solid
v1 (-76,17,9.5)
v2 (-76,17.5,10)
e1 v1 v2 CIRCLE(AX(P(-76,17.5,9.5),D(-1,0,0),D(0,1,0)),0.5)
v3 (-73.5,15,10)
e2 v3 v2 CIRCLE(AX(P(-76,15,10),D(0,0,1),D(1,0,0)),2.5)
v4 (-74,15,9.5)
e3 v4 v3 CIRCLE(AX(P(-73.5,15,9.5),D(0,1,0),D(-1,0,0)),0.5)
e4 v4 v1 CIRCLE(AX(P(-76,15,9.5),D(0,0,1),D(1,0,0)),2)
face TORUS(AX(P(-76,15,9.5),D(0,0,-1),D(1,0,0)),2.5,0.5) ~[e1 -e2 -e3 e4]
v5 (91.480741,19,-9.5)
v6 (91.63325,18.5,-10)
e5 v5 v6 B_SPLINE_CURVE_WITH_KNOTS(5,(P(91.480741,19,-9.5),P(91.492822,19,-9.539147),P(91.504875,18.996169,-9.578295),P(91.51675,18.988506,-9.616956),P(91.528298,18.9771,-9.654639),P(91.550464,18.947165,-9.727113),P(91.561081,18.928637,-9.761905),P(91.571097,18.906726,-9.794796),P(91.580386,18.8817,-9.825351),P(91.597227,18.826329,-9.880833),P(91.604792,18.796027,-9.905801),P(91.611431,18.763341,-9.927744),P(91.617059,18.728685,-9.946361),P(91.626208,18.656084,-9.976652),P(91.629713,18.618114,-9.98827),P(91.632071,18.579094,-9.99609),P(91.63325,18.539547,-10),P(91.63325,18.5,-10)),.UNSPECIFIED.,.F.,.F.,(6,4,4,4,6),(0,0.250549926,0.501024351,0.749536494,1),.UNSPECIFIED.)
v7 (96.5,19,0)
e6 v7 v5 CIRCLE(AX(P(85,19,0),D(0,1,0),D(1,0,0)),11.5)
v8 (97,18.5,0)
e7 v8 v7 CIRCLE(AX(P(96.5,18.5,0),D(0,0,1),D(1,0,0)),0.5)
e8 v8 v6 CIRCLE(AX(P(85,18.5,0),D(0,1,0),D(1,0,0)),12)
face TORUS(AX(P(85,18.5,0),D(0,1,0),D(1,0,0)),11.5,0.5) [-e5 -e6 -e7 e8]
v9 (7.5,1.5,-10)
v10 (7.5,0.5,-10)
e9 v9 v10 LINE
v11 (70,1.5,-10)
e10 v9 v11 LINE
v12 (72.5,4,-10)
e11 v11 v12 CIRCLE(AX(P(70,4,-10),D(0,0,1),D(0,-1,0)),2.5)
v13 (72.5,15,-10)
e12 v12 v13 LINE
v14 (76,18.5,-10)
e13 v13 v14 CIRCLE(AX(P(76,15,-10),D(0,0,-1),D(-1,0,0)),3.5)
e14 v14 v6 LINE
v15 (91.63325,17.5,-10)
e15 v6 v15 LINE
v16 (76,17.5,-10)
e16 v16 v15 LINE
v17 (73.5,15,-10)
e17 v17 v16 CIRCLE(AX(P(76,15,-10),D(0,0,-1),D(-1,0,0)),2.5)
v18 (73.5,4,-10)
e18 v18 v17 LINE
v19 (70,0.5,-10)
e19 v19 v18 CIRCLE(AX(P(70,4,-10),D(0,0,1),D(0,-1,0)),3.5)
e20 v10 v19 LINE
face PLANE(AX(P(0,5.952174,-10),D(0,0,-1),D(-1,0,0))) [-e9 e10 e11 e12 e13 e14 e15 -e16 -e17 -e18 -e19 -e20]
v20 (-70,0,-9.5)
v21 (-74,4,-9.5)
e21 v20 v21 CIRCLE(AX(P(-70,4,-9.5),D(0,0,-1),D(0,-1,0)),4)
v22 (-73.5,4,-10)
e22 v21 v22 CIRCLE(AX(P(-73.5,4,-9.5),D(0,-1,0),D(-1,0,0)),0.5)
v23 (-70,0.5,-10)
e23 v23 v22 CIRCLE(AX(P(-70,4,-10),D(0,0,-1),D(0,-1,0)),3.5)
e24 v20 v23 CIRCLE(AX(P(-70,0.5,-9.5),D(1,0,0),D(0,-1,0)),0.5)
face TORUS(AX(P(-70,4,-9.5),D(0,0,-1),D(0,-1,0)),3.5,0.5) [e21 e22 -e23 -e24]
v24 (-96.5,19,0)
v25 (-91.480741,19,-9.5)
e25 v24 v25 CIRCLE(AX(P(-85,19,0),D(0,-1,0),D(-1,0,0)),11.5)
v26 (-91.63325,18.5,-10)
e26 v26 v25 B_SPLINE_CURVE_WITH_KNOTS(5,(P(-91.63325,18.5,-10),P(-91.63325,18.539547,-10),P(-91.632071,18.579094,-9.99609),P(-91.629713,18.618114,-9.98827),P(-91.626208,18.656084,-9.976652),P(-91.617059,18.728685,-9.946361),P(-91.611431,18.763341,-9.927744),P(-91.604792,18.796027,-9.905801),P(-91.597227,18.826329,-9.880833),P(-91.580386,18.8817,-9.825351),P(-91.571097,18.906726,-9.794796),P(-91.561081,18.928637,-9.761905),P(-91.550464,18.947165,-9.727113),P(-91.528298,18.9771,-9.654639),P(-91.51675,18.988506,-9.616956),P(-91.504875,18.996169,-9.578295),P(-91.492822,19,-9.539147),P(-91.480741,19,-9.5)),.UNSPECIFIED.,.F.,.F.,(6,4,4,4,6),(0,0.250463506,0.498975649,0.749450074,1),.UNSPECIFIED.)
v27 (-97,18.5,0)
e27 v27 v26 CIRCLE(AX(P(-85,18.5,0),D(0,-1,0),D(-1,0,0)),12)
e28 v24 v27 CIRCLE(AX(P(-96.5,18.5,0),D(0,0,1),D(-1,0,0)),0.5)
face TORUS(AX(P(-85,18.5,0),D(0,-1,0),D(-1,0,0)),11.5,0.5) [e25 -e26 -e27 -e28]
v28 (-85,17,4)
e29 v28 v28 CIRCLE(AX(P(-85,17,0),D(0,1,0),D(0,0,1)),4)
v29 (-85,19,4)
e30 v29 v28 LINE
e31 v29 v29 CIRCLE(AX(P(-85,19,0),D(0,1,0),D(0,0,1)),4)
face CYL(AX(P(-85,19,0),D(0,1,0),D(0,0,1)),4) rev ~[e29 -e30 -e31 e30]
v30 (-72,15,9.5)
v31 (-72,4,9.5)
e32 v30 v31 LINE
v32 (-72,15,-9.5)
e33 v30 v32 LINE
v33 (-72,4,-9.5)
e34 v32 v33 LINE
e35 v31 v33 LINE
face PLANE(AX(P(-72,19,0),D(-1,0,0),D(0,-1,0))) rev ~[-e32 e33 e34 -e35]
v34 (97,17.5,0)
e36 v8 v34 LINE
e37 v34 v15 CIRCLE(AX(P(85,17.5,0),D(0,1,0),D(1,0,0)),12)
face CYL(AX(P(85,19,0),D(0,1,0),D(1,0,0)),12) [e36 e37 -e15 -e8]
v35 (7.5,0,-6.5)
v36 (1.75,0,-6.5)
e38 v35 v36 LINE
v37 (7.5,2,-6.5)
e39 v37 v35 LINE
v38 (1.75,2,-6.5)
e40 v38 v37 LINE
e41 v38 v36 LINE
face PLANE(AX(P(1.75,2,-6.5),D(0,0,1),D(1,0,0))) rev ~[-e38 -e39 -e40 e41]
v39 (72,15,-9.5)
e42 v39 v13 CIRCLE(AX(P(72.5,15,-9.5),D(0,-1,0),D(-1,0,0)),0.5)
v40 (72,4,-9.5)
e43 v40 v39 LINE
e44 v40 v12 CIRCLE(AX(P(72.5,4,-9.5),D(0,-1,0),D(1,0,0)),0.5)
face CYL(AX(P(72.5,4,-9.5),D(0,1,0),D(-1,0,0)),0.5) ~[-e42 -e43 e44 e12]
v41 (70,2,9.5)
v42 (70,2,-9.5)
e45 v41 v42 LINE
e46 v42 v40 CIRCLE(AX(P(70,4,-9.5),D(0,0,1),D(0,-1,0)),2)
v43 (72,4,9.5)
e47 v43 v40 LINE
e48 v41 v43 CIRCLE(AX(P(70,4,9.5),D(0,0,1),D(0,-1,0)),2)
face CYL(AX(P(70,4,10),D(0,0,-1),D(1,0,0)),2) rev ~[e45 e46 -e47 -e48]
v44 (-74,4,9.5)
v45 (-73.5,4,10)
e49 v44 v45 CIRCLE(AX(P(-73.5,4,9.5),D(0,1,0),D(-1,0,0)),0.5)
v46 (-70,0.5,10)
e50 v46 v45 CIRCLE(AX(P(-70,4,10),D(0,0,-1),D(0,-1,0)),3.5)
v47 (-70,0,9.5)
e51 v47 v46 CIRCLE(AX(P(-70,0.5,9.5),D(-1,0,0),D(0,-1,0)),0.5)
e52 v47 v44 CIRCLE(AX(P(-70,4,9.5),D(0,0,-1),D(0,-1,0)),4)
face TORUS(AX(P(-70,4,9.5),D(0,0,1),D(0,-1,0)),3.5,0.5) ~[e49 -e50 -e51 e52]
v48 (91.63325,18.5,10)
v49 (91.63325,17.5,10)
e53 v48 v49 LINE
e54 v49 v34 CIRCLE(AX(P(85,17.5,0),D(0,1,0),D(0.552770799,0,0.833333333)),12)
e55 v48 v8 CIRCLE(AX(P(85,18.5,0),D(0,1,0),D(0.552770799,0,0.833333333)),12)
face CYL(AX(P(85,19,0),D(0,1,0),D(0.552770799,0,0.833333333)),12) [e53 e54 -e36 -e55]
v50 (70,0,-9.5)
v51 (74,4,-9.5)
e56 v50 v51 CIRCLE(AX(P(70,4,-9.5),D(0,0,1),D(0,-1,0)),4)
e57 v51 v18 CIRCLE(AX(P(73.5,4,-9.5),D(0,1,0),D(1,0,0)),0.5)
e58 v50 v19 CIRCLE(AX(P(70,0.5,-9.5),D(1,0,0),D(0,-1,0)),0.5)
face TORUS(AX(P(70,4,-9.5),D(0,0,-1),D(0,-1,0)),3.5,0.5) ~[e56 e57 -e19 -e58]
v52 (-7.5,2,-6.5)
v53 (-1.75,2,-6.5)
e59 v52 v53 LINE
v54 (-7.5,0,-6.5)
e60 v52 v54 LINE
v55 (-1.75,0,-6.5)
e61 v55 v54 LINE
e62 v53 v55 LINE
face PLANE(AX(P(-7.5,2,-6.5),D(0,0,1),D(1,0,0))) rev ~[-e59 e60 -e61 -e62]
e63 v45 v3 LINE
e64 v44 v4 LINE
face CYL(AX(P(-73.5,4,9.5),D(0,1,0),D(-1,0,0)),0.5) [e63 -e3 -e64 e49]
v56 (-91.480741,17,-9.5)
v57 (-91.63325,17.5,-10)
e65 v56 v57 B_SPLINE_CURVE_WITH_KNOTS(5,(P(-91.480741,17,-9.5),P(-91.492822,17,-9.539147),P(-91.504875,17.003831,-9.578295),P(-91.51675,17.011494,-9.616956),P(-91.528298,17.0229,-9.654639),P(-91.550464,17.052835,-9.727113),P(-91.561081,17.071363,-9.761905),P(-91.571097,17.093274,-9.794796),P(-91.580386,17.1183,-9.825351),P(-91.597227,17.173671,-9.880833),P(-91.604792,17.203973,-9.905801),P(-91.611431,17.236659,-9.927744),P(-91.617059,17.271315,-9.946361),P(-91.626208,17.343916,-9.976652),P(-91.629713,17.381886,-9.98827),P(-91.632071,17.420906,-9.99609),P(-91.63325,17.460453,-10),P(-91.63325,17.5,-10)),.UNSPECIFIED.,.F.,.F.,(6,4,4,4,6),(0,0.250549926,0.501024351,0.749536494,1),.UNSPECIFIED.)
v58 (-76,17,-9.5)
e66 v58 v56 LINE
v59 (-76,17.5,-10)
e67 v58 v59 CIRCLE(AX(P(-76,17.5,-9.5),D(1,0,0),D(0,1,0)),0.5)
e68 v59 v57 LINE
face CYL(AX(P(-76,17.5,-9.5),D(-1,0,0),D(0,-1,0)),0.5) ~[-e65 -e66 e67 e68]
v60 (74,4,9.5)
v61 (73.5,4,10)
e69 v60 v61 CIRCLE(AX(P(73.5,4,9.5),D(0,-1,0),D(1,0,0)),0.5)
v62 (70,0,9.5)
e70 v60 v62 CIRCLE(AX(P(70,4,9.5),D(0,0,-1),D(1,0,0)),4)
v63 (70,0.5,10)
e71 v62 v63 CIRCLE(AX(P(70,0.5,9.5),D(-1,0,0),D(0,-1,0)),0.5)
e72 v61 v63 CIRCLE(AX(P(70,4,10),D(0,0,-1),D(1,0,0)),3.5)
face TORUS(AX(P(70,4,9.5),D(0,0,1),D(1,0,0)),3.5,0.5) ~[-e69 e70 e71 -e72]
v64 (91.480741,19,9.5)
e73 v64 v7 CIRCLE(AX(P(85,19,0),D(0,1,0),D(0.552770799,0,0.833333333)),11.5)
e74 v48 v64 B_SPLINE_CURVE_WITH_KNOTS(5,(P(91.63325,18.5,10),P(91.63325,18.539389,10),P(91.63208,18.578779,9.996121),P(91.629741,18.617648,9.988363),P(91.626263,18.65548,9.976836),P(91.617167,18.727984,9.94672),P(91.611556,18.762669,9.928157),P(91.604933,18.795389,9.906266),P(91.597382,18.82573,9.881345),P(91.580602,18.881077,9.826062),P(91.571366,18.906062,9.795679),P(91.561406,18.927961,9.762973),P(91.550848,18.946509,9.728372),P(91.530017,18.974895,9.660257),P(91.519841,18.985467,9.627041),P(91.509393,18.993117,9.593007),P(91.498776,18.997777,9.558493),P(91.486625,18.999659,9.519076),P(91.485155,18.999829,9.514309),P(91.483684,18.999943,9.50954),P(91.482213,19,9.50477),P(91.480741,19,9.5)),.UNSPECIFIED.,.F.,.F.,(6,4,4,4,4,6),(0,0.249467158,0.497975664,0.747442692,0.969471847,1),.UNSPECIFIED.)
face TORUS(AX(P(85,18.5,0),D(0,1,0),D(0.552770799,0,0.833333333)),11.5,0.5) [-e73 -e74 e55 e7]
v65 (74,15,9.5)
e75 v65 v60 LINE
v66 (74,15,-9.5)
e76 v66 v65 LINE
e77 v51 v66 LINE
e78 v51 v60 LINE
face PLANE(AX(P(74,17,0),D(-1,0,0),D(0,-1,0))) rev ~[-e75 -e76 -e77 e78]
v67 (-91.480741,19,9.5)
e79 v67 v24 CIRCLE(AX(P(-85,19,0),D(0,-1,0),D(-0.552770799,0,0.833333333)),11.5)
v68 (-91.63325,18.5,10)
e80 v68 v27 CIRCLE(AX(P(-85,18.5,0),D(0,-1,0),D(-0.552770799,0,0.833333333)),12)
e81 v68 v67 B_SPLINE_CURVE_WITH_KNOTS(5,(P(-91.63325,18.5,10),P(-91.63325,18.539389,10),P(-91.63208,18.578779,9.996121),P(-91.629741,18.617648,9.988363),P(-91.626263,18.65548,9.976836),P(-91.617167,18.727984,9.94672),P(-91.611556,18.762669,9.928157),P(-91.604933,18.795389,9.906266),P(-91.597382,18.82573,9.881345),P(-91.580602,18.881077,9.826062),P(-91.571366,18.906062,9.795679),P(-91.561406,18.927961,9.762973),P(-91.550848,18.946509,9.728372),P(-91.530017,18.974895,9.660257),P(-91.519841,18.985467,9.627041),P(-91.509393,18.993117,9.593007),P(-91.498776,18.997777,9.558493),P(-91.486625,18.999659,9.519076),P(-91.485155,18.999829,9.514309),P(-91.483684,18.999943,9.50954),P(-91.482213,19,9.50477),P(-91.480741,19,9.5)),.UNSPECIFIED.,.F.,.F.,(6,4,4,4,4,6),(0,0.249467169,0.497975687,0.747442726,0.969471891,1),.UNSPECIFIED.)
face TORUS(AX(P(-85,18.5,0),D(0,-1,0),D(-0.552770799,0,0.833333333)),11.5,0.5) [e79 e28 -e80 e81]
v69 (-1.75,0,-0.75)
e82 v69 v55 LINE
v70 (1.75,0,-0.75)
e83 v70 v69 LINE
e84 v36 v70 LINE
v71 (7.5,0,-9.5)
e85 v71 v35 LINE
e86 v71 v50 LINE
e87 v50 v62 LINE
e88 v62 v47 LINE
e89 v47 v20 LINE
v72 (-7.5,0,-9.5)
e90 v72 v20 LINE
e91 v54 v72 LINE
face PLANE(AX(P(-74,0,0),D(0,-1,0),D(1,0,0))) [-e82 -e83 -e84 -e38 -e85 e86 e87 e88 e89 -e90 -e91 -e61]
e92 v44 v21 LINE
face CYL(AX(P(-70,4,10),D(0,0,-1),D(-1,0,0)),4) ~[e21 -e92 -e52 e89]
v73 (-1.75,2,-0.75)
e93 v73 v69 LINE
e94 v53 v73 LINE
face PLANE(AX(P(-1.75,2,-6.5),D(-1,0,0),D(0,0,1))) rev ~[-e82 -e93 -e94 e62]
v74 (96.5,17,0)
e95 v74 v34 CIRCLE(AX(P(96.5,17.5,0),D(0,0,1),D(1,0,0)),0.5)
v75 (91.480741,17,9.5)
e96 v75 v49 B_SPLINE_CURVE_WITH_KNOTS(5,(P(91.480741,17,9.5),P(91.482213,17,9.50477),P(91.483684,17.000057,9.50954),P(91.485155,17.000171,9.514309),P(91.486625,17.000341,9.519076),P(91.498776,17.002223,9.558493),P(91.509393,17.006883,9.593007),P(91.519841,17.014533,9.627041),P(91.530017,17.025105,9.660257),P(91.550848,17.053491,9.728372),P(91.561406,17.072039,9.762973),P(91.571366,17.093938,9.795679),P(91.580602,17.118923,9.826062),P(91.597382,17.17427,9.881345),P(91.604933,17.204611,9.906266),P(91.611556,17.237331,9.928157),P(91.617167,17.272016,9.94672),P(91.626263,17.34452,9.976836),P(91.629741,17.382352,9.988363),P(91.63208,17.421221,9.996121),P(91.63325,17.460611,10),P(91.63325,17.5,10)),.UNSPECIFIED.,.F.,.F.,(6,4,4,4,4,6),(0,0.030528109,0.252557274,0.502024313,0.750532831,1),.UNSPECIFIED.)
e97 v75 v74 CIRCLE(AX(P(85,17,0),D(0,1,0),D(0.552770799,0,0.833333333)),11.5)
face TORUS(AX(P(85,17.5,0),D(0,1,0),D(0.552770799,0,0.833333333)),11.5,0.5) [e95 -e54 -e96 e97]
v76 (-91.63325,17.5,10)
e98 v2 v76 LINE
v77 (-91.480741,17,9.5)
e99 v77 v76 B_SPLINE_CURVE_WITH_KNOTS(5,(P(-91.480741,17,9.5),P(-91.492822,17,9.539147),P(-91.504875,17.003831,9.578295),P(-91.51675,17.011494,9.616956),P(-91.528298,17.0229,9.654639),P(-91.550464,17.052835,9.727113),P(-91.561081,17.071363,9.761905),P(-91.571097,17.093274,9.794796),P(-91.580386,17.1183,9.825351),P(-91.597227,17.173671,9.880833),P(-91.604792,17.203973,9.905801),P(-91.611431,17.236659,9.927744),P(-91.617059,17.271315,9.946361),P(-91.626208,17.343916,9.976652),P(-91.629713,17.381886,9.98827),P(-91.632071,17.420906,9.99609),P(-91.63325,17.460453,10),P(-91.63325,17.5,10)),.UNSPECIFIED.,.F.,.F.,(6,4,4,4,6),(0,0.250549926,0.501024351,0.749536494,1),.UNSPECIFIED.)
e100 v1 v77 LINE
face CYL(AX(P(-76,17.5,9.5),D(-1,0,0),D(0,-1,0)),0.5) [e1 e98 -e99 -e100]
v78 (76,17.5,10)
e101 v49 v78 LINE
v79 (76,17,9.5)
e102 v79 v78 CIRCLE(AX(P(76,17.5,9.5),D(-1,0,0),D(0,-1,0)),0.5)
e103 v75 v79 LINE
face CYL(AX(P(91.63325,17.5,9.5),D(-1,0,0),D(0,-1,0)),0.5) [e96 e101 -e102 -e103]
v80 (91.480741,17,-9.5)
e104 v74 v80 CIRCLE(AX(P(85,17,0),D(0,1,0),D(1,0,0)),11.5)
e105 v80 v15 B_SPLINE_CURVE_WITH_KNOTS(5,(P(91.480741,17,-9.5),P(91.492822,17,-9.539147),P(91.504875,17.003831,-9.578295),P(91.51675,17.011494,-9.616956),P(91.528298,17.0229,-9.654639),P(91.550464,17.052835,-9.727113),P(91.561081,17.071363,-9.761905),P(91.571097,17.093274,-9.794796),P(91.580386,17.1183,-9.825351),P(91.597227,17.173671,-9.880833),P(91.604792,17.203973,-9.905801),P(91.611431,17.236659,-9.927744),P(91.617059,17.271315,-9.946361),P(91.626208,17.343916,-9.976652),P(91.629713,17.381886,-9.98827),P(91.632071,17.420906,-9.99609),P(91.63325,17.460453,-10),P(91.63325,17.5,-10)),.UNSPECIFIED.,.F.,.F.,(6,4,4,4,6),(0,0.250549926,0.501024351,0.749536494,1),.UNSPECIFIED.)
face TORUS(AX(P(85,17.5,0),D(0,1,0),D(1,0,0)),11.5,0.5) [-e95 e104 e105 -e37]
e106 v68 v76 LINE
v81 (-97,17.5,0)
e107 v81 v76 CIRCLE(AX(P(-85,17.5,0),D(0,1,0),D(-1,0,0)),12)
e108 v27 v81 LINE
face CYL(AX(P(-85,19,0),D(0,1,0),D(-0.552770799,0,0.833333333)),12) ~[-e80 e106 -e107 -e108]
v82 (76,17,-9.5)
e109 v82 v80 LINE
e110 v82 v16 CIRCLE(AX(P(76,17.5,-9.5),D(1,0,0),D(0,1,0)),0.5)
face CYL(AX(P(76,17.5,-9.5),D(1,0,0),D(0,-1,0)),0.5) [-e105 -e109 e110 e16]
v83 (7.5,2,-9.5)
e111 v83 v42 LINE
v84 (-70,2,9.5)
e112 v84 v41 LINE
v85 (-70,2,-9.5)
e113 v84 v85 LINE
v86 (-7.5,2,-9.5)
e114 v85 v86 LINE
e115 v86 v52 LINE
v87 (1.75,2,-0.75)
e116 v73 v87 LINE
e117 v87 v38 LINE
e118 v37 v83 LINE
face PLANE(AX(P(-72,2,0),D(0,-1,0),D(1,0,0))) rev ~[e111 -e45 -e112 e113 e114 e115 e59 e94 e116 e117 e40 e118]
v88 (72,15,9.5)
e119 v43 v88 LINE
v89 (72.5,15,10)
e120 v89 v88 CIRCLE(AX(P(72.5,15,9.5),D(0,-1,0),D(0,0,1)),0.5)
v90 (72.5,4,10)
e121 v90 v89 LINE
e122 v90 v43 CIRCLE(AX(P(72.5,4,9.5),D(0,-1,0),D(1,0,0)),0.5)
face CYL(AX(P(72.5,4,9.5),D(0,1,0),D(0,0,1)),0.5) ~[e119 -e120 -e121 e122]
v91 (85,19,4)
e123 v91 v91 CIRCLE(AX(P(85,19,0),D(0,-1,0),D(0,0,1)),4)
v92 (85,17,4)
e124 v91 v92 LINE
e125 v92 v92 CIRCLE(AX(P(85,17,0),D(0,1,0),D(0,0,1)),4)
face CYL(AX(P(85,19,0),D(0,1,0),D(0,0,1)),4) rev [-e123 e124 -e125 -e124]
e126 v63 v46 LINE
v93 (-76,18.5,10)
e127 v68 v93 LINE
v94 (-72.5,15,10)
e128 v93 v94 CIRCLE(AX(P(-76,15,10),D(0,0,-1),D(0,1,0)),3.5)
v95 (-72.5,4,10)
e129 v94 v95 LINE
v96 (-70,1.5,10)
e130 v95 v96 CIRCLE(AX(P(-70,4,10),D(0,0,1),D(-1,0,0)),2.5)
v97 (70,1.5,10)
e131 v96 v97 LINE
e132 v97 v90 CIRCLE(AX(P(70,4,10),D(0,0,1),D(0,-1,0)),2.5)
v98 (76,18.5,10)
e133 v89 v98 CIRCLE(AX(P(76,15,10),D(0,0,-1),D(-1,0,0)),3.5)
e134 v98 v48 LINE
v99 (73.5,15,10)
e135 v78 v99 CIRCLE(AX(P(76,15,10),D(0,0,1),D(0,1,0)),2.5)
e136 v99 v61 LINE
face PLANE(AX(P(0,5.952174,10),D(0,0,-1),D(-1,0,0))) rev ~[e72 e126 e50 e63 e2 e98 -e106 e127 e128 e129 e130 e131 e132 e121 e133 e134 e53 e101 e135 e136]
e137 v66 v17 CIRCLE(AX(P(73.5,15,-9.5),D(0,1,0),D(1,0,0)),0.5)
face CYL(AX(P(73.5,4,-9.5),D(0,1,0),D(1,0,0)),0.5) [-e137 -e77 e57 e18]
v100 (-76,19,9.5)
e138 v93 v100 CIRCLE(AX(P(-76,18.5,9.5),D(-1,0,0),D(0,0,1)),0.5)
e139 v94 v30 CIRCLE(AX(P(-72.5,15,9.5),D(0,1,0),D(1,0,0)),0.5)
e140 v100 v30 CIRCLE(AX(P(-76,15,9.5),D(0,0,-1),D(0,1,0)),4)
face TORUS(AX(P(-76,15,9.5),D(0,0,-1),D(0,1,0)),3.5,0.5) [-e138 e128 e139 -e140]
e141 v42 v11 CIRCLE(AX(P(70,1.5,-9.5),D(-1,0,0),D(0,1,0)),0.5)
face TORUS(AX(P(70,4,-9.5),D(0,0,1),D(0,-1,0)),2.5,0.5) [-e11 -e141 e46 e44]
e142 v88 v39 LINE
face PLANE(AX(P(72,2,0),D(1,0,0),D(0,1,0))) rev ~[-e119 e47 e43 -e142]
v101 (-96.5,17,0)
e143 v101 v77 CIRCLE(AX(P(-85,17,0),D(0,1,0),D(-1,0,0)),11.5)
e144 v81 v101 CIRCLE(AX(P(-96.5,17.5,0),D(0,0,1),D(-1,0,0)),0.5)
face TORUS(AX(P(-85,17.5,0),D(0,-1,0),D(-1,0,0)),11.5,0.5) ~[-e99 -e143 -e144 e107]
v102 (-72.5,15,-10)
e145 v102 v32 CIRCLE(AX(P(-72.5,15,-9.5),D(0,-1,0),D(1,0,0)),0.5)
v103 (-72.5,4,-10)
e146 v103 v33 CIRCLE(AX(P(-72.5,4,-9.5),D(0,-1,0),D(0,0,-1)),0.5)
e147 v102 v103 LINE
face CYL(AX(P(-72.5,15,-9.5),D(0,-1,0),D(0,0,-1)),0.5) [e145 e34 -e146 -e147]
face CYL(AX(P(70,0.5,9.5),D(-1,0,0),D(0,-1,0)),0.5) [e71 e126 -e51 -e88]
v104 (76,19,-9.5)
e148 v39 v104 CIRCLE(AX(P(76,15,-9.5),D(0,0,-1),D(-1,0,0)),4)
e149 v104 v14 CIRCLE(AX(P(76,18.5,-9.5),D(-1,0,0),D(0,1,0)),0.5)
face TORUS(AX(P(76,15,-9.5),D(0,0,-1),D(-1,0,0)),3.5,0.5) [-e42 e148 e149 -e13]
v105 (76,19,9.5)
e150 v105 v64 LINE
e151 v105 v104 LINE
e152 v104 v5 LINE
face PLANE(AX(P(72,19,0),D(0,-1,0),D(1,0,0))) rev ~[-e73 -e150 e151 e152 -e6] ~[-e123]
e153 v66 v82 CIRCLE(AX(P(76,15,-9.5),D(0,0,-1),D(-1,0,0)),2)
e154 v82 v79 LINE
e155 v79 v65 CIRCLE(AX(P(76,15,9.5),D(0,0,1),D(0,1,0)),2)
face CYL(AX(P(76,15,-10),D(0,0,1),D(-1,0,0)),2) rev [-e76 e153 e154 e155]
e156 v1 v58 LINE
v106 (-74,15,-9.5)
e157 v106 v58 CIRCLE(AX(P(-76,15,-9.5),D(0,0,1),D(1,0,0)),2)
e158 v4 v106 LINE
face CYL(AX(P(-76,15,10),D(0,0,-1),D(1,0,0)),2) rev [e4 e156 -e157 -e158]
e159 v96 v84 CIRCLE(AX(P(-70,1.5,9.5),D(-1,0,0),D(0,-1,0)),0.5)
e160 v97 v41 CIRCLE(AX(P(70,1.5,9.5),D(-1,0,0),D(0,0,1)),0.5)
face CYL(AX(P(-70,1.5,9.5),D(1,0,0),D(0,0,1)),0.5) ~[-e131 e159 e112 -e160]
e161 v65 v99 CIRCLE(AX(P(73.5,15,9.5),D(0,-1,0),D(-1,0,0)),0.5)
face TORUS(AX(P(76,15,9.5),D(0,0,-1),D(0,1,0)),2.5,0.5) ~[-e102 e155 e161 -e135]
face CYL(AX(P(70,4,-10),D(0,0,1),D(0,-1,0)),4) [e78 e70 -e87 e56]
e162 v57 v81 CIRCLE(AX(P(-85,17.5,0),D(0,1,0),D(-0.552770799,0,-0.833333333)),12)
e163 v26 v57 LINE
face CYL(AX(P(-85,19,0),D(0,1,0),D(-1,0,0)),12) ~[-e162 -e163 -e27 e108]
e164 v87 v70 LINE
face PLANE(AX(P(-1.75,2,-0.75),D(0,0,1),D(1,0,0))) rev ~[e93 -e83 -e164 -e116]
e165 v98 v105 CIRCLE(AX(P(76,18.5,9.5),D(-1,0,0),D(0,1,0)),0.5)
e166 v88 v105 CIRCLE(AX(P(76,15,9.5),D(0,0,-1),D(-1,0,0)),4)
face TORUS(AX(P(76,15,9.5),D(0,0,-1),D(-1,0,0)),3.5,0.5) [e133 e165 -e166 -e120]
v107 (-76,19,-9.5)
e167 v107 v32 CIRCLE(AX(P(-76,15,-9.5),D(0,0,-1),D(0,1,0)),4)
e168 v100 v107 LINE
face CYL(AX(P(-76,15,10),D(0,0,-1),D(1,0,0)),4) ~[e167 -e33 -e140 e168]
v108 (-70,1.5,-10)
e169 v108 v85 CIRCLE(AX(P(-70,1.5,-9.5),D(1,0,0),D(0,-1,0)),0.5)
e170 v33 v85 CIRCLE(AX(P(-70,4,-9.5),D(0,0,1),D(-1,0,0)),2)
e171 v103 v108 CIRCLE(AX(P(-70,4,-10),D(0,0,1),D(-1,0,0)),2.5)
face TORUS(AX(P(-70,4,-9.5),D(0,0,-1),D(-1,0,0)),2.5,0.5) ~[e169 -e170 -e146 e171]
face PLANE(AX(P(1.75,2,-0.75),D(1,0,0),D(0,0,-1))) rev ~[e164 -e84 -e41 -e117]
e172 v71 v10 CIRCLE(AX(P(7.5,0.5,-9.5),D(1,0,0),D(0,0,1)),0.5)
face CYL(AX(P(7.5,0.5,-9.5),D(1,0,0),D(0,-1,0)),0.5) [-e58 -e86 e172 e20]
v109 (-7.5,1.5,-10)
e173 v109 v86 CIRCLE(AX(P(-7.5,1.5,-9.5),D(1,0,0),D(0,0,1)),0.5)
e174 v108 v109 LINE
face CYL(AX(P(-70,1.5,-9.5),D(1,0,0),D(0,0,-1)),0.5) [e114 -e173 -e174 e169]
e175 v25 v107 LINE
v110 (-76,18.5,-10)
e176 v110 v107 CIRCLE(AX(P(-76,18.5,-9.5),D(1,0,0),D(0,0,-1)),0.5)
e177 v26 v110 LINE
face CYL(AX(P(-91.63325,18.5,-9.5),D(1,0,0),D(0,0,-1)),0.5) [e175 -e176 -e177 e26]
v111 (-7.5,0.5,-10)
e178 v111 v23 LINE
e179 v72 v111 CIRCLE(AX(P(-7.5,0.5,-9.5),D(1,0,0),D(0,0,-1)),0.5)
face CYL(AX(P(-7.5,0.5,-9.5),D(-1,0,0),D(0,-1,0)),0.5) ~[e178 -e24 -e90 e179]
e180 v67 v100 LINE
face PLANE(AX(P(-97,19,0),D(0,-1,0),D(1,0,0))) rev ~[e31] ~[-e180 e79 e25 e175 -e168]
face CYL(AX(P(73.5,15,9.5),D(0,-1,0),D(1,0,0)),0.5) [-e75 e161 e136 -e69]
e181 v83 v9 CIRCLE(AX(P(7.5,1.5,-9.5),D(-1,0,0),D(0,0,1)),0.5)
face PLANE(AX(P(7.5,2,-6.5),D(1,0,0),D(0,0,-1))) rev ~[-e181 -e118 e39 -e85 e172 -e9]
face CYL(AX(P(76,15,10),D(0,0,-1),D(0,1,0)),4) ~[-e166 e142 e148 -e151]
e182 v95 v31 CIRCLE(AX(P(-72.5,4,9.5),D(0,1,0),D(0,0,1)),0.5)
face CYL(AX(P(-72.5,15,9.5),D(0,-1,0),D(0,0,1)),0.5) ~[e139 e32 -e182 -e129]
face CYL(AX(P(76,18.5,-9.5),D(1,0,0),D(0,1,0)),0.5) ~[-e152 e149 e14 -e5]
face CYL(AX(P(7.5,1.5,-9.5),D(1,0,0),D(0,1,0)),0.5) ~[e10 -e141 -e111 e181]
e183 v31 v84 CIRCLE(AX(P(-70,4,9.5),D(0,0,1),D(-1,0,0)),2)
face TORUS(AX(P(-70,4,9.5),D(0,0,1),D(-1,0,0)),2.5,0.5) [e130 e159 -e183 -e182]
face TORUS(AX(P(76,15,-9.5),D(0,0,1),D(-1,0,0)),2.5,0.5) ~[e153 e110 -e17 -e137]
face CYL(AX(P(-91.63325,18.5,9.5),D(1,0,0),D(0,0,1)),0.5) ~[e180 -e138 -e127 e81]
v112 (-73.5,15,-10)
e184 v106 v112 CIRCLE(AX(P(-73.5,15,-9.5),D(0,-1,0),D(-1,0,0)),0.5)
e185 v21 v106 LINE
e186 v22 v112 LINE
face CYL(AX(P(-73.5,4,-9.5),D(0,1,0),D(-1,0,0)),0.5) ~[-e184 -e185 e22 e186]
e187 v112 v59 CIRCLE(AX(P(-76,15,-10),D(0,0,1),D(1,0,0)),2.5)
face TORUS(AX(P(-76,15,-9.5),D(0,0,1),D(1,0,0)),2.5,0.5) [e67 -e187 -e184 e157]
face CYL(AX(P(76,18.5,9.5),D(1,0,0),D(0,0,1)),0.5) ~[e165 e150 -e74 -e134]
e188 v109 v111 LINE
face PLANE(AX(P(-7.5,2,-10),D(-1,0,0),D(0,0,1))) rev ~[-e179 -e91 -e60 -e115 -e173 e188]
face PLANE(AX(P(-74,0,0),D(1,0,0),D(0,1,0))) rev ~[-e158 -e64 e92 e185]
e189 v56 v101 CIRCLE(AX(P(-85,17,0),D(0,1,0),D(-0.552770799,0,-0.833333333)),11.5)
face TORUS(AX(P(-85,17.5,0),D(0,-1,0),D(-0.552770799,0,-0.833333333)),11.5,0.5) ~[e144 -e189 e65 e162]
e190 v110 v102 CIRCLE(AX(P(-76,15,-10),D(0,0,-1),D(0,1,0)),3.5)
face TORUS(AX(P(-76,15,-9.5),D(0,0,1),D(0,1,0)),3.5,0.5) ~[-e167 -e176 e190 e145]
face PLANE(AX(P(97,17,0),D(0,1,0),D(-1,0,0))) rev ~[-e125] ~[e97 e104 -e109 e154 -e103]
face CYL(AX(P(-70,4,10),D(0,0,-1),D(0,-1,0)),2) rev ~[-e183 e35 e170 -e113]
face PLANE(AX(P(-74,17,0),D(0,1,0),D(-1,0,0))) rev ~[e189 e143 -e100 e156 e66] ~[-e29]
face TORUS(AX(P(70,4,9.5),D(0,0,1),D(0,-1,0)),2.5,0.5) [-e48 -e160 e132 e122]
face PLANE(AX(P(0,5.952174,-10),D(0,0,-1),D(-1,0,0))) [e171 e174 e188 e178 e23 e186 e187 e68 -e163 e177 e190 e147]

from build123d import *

# Parameters (mm, degrees)
BOSS_EXTRUDE1_DEPTH = 10
SKETCH2_R           = 4
CUT_EXTRUDE1_DEPTH  = 100.347873656
CUT_EXTRUDE2_DEPTH  = 99.984847325
FILLET1_R           = 2
FILLET2_R           = 4
FILLET3_R           = 0.5


with BuildPart() as part:
    # Sketch1 → Boss-Extrude1 (new, symmetric)
    with BuildSketch(Plane.XY):
        Polygon((0, 0), (-74, 0), (-74, 17), (-97, 17), (-97, 19), (-72, 19), (-72, 2), (72, 2), (72, 19), (97, 19), (97, 17), (74, 17), (74, 0), align=None)
    extrude(amount=BOSS_EXTRUDE1_DEPTH, both=True)

    # Sketch2 → Cut-Extrude1 (cut, through all)
    with BuildSketch(Plane(origin=(0, 19, 0), x_dir=(1, 0, 0), z_dir=(0, 1, 0))):
        with BuildLine():
            ThreePointArc((-97, 0), (-95.573528147, 5.674548662), (-91.633249581, 10))
            Line((-91.633249581, 10), (-97, 10))
            Line((-97, 10), (-97, 0))
        make_face()
        with BuildLine():
            ThreePointArc((-91.633249581, -10), (-95.573528147, -5.674548662), (-97, 0))
            Line((-97, 0), (-97, -10))
            Line((-97, -10), (-91.633249581, -10))
        make_face()
        with Locations(Location((-85, 0, 0), (0, 0, 270))):
            Circle(SKETCH2_R)
    cut_extrude1 = extrude(amount=-CUT_EXTRUDE1_DEPTH, mode=Mode.SUBTRACT)

    # Mirror1: Cut-Extrude1 across plane
    add(cut_extrude1.mirror(Plane(origin=(0, 0, 0), x_dir=(0, 0, 1), z_dir=(1, 0, 0))), mode=Mode.SUBTRACT)

    # Sketch3 → Cut-Extrude2 (cut, through all)
    with BuildSketch(Plane(origin=(0, 2, 0), x_dir=(1, 0, 0), z_dir=(0, 1, 0))):
        Polygon((-7.5, 6.5), (-1.75, 6.5), (-1.75, 0.75), (1.75, 0.75), (1.75, 6.5), (7.5, 6.5), (7.5, 10), (-7.5, 10), align=None)
    extrude(amount=-CUT_EXTRUDE2_DEPTH, mode=Mode.SUBTRACT)

    # Fillet1
    fillet1_edges = [part.edges().sort_by_distance(p)[0] for p in [
        (-74, 17, 0),
        (-72, 2, 0),
        (72, 2, 0),
        (74, 17, 0),
    ]]
    fillet(fillet1_edges, radius=FILLET1_R)

    # Fillet2
    fillet2_edges = [part.edges().sort_by_distance(p)[0] for p in [
        (-74, 0, 0),
        (-72, 19, 0),
        (72, 19, 0),
        (74, 0, 0),
    ]]
    fillet(fillet2_edges, radius=FILLET2_R)

    # Fillet3
    fillet3_edges = [part.edges().sort_by_distance(p)[0] for p in [
        (-74, 9.5, -10),
        (-74, 9.5, 10),
        (-72, 9.5, -10),
        (-73.171572875, 17.828427125, -10),
        (-71.414213562, 2.585786438, -10),
        (-83.81662479, 19, -10),
        (-38.75, 2, -10),
        (-83.81662479, 17, -10),
        (-38.75, 0, -10),
        (-74.585786438, 16.414213562, -10),
        (-72.828427125, 1.171572875, -10),
        (-72.828427125, 1.171572875, 10),
        (-74.585786438, 16.414213562, 10),
        (74, 9.5, 10),
        (72.828427125, 1.171572875, 10),
        (74.585786438, 16.414213562, 10),
        (0, 0, 10),
        (83.81662479, 17, 10),
        (83.81662479, 19, 10),
        (73.171572875, 17.828427125, 10),
        (-83.81662479, 17, 10),
        (72, 9.5, 10),
        (71.414213562, 2.585786438, 10),
        (-83.81662479, 19, 10),
        (0, 2, 10),
        (-73.171572875, 17.828427125, 10),
        (-71.414213562, 2.585786438, 10),
        (-72, 9.5, 10),
        (-97, 19, 0),
        (38.75, 2, -10),
        (-97, 17, 0),
        (38.75, 0, -10),
        (74, 9.5, -10),
        (72.828427125, 1.171572875, -10),
        (74.585786438, 16.414213562, -10),
        (83.81662479, 17, -10),
        (97, 17, 0),
        (97, 19, 0),
        (83.81662479, 19, -10),
        (73.171572875, 17.828427125, -10),
        (72, 9.5, -10),
        (71.414213562, 2.585786438, -10),
    ]]
    fillet(fillet3_edges, radius=FILLET3_R)


solid = part.part
